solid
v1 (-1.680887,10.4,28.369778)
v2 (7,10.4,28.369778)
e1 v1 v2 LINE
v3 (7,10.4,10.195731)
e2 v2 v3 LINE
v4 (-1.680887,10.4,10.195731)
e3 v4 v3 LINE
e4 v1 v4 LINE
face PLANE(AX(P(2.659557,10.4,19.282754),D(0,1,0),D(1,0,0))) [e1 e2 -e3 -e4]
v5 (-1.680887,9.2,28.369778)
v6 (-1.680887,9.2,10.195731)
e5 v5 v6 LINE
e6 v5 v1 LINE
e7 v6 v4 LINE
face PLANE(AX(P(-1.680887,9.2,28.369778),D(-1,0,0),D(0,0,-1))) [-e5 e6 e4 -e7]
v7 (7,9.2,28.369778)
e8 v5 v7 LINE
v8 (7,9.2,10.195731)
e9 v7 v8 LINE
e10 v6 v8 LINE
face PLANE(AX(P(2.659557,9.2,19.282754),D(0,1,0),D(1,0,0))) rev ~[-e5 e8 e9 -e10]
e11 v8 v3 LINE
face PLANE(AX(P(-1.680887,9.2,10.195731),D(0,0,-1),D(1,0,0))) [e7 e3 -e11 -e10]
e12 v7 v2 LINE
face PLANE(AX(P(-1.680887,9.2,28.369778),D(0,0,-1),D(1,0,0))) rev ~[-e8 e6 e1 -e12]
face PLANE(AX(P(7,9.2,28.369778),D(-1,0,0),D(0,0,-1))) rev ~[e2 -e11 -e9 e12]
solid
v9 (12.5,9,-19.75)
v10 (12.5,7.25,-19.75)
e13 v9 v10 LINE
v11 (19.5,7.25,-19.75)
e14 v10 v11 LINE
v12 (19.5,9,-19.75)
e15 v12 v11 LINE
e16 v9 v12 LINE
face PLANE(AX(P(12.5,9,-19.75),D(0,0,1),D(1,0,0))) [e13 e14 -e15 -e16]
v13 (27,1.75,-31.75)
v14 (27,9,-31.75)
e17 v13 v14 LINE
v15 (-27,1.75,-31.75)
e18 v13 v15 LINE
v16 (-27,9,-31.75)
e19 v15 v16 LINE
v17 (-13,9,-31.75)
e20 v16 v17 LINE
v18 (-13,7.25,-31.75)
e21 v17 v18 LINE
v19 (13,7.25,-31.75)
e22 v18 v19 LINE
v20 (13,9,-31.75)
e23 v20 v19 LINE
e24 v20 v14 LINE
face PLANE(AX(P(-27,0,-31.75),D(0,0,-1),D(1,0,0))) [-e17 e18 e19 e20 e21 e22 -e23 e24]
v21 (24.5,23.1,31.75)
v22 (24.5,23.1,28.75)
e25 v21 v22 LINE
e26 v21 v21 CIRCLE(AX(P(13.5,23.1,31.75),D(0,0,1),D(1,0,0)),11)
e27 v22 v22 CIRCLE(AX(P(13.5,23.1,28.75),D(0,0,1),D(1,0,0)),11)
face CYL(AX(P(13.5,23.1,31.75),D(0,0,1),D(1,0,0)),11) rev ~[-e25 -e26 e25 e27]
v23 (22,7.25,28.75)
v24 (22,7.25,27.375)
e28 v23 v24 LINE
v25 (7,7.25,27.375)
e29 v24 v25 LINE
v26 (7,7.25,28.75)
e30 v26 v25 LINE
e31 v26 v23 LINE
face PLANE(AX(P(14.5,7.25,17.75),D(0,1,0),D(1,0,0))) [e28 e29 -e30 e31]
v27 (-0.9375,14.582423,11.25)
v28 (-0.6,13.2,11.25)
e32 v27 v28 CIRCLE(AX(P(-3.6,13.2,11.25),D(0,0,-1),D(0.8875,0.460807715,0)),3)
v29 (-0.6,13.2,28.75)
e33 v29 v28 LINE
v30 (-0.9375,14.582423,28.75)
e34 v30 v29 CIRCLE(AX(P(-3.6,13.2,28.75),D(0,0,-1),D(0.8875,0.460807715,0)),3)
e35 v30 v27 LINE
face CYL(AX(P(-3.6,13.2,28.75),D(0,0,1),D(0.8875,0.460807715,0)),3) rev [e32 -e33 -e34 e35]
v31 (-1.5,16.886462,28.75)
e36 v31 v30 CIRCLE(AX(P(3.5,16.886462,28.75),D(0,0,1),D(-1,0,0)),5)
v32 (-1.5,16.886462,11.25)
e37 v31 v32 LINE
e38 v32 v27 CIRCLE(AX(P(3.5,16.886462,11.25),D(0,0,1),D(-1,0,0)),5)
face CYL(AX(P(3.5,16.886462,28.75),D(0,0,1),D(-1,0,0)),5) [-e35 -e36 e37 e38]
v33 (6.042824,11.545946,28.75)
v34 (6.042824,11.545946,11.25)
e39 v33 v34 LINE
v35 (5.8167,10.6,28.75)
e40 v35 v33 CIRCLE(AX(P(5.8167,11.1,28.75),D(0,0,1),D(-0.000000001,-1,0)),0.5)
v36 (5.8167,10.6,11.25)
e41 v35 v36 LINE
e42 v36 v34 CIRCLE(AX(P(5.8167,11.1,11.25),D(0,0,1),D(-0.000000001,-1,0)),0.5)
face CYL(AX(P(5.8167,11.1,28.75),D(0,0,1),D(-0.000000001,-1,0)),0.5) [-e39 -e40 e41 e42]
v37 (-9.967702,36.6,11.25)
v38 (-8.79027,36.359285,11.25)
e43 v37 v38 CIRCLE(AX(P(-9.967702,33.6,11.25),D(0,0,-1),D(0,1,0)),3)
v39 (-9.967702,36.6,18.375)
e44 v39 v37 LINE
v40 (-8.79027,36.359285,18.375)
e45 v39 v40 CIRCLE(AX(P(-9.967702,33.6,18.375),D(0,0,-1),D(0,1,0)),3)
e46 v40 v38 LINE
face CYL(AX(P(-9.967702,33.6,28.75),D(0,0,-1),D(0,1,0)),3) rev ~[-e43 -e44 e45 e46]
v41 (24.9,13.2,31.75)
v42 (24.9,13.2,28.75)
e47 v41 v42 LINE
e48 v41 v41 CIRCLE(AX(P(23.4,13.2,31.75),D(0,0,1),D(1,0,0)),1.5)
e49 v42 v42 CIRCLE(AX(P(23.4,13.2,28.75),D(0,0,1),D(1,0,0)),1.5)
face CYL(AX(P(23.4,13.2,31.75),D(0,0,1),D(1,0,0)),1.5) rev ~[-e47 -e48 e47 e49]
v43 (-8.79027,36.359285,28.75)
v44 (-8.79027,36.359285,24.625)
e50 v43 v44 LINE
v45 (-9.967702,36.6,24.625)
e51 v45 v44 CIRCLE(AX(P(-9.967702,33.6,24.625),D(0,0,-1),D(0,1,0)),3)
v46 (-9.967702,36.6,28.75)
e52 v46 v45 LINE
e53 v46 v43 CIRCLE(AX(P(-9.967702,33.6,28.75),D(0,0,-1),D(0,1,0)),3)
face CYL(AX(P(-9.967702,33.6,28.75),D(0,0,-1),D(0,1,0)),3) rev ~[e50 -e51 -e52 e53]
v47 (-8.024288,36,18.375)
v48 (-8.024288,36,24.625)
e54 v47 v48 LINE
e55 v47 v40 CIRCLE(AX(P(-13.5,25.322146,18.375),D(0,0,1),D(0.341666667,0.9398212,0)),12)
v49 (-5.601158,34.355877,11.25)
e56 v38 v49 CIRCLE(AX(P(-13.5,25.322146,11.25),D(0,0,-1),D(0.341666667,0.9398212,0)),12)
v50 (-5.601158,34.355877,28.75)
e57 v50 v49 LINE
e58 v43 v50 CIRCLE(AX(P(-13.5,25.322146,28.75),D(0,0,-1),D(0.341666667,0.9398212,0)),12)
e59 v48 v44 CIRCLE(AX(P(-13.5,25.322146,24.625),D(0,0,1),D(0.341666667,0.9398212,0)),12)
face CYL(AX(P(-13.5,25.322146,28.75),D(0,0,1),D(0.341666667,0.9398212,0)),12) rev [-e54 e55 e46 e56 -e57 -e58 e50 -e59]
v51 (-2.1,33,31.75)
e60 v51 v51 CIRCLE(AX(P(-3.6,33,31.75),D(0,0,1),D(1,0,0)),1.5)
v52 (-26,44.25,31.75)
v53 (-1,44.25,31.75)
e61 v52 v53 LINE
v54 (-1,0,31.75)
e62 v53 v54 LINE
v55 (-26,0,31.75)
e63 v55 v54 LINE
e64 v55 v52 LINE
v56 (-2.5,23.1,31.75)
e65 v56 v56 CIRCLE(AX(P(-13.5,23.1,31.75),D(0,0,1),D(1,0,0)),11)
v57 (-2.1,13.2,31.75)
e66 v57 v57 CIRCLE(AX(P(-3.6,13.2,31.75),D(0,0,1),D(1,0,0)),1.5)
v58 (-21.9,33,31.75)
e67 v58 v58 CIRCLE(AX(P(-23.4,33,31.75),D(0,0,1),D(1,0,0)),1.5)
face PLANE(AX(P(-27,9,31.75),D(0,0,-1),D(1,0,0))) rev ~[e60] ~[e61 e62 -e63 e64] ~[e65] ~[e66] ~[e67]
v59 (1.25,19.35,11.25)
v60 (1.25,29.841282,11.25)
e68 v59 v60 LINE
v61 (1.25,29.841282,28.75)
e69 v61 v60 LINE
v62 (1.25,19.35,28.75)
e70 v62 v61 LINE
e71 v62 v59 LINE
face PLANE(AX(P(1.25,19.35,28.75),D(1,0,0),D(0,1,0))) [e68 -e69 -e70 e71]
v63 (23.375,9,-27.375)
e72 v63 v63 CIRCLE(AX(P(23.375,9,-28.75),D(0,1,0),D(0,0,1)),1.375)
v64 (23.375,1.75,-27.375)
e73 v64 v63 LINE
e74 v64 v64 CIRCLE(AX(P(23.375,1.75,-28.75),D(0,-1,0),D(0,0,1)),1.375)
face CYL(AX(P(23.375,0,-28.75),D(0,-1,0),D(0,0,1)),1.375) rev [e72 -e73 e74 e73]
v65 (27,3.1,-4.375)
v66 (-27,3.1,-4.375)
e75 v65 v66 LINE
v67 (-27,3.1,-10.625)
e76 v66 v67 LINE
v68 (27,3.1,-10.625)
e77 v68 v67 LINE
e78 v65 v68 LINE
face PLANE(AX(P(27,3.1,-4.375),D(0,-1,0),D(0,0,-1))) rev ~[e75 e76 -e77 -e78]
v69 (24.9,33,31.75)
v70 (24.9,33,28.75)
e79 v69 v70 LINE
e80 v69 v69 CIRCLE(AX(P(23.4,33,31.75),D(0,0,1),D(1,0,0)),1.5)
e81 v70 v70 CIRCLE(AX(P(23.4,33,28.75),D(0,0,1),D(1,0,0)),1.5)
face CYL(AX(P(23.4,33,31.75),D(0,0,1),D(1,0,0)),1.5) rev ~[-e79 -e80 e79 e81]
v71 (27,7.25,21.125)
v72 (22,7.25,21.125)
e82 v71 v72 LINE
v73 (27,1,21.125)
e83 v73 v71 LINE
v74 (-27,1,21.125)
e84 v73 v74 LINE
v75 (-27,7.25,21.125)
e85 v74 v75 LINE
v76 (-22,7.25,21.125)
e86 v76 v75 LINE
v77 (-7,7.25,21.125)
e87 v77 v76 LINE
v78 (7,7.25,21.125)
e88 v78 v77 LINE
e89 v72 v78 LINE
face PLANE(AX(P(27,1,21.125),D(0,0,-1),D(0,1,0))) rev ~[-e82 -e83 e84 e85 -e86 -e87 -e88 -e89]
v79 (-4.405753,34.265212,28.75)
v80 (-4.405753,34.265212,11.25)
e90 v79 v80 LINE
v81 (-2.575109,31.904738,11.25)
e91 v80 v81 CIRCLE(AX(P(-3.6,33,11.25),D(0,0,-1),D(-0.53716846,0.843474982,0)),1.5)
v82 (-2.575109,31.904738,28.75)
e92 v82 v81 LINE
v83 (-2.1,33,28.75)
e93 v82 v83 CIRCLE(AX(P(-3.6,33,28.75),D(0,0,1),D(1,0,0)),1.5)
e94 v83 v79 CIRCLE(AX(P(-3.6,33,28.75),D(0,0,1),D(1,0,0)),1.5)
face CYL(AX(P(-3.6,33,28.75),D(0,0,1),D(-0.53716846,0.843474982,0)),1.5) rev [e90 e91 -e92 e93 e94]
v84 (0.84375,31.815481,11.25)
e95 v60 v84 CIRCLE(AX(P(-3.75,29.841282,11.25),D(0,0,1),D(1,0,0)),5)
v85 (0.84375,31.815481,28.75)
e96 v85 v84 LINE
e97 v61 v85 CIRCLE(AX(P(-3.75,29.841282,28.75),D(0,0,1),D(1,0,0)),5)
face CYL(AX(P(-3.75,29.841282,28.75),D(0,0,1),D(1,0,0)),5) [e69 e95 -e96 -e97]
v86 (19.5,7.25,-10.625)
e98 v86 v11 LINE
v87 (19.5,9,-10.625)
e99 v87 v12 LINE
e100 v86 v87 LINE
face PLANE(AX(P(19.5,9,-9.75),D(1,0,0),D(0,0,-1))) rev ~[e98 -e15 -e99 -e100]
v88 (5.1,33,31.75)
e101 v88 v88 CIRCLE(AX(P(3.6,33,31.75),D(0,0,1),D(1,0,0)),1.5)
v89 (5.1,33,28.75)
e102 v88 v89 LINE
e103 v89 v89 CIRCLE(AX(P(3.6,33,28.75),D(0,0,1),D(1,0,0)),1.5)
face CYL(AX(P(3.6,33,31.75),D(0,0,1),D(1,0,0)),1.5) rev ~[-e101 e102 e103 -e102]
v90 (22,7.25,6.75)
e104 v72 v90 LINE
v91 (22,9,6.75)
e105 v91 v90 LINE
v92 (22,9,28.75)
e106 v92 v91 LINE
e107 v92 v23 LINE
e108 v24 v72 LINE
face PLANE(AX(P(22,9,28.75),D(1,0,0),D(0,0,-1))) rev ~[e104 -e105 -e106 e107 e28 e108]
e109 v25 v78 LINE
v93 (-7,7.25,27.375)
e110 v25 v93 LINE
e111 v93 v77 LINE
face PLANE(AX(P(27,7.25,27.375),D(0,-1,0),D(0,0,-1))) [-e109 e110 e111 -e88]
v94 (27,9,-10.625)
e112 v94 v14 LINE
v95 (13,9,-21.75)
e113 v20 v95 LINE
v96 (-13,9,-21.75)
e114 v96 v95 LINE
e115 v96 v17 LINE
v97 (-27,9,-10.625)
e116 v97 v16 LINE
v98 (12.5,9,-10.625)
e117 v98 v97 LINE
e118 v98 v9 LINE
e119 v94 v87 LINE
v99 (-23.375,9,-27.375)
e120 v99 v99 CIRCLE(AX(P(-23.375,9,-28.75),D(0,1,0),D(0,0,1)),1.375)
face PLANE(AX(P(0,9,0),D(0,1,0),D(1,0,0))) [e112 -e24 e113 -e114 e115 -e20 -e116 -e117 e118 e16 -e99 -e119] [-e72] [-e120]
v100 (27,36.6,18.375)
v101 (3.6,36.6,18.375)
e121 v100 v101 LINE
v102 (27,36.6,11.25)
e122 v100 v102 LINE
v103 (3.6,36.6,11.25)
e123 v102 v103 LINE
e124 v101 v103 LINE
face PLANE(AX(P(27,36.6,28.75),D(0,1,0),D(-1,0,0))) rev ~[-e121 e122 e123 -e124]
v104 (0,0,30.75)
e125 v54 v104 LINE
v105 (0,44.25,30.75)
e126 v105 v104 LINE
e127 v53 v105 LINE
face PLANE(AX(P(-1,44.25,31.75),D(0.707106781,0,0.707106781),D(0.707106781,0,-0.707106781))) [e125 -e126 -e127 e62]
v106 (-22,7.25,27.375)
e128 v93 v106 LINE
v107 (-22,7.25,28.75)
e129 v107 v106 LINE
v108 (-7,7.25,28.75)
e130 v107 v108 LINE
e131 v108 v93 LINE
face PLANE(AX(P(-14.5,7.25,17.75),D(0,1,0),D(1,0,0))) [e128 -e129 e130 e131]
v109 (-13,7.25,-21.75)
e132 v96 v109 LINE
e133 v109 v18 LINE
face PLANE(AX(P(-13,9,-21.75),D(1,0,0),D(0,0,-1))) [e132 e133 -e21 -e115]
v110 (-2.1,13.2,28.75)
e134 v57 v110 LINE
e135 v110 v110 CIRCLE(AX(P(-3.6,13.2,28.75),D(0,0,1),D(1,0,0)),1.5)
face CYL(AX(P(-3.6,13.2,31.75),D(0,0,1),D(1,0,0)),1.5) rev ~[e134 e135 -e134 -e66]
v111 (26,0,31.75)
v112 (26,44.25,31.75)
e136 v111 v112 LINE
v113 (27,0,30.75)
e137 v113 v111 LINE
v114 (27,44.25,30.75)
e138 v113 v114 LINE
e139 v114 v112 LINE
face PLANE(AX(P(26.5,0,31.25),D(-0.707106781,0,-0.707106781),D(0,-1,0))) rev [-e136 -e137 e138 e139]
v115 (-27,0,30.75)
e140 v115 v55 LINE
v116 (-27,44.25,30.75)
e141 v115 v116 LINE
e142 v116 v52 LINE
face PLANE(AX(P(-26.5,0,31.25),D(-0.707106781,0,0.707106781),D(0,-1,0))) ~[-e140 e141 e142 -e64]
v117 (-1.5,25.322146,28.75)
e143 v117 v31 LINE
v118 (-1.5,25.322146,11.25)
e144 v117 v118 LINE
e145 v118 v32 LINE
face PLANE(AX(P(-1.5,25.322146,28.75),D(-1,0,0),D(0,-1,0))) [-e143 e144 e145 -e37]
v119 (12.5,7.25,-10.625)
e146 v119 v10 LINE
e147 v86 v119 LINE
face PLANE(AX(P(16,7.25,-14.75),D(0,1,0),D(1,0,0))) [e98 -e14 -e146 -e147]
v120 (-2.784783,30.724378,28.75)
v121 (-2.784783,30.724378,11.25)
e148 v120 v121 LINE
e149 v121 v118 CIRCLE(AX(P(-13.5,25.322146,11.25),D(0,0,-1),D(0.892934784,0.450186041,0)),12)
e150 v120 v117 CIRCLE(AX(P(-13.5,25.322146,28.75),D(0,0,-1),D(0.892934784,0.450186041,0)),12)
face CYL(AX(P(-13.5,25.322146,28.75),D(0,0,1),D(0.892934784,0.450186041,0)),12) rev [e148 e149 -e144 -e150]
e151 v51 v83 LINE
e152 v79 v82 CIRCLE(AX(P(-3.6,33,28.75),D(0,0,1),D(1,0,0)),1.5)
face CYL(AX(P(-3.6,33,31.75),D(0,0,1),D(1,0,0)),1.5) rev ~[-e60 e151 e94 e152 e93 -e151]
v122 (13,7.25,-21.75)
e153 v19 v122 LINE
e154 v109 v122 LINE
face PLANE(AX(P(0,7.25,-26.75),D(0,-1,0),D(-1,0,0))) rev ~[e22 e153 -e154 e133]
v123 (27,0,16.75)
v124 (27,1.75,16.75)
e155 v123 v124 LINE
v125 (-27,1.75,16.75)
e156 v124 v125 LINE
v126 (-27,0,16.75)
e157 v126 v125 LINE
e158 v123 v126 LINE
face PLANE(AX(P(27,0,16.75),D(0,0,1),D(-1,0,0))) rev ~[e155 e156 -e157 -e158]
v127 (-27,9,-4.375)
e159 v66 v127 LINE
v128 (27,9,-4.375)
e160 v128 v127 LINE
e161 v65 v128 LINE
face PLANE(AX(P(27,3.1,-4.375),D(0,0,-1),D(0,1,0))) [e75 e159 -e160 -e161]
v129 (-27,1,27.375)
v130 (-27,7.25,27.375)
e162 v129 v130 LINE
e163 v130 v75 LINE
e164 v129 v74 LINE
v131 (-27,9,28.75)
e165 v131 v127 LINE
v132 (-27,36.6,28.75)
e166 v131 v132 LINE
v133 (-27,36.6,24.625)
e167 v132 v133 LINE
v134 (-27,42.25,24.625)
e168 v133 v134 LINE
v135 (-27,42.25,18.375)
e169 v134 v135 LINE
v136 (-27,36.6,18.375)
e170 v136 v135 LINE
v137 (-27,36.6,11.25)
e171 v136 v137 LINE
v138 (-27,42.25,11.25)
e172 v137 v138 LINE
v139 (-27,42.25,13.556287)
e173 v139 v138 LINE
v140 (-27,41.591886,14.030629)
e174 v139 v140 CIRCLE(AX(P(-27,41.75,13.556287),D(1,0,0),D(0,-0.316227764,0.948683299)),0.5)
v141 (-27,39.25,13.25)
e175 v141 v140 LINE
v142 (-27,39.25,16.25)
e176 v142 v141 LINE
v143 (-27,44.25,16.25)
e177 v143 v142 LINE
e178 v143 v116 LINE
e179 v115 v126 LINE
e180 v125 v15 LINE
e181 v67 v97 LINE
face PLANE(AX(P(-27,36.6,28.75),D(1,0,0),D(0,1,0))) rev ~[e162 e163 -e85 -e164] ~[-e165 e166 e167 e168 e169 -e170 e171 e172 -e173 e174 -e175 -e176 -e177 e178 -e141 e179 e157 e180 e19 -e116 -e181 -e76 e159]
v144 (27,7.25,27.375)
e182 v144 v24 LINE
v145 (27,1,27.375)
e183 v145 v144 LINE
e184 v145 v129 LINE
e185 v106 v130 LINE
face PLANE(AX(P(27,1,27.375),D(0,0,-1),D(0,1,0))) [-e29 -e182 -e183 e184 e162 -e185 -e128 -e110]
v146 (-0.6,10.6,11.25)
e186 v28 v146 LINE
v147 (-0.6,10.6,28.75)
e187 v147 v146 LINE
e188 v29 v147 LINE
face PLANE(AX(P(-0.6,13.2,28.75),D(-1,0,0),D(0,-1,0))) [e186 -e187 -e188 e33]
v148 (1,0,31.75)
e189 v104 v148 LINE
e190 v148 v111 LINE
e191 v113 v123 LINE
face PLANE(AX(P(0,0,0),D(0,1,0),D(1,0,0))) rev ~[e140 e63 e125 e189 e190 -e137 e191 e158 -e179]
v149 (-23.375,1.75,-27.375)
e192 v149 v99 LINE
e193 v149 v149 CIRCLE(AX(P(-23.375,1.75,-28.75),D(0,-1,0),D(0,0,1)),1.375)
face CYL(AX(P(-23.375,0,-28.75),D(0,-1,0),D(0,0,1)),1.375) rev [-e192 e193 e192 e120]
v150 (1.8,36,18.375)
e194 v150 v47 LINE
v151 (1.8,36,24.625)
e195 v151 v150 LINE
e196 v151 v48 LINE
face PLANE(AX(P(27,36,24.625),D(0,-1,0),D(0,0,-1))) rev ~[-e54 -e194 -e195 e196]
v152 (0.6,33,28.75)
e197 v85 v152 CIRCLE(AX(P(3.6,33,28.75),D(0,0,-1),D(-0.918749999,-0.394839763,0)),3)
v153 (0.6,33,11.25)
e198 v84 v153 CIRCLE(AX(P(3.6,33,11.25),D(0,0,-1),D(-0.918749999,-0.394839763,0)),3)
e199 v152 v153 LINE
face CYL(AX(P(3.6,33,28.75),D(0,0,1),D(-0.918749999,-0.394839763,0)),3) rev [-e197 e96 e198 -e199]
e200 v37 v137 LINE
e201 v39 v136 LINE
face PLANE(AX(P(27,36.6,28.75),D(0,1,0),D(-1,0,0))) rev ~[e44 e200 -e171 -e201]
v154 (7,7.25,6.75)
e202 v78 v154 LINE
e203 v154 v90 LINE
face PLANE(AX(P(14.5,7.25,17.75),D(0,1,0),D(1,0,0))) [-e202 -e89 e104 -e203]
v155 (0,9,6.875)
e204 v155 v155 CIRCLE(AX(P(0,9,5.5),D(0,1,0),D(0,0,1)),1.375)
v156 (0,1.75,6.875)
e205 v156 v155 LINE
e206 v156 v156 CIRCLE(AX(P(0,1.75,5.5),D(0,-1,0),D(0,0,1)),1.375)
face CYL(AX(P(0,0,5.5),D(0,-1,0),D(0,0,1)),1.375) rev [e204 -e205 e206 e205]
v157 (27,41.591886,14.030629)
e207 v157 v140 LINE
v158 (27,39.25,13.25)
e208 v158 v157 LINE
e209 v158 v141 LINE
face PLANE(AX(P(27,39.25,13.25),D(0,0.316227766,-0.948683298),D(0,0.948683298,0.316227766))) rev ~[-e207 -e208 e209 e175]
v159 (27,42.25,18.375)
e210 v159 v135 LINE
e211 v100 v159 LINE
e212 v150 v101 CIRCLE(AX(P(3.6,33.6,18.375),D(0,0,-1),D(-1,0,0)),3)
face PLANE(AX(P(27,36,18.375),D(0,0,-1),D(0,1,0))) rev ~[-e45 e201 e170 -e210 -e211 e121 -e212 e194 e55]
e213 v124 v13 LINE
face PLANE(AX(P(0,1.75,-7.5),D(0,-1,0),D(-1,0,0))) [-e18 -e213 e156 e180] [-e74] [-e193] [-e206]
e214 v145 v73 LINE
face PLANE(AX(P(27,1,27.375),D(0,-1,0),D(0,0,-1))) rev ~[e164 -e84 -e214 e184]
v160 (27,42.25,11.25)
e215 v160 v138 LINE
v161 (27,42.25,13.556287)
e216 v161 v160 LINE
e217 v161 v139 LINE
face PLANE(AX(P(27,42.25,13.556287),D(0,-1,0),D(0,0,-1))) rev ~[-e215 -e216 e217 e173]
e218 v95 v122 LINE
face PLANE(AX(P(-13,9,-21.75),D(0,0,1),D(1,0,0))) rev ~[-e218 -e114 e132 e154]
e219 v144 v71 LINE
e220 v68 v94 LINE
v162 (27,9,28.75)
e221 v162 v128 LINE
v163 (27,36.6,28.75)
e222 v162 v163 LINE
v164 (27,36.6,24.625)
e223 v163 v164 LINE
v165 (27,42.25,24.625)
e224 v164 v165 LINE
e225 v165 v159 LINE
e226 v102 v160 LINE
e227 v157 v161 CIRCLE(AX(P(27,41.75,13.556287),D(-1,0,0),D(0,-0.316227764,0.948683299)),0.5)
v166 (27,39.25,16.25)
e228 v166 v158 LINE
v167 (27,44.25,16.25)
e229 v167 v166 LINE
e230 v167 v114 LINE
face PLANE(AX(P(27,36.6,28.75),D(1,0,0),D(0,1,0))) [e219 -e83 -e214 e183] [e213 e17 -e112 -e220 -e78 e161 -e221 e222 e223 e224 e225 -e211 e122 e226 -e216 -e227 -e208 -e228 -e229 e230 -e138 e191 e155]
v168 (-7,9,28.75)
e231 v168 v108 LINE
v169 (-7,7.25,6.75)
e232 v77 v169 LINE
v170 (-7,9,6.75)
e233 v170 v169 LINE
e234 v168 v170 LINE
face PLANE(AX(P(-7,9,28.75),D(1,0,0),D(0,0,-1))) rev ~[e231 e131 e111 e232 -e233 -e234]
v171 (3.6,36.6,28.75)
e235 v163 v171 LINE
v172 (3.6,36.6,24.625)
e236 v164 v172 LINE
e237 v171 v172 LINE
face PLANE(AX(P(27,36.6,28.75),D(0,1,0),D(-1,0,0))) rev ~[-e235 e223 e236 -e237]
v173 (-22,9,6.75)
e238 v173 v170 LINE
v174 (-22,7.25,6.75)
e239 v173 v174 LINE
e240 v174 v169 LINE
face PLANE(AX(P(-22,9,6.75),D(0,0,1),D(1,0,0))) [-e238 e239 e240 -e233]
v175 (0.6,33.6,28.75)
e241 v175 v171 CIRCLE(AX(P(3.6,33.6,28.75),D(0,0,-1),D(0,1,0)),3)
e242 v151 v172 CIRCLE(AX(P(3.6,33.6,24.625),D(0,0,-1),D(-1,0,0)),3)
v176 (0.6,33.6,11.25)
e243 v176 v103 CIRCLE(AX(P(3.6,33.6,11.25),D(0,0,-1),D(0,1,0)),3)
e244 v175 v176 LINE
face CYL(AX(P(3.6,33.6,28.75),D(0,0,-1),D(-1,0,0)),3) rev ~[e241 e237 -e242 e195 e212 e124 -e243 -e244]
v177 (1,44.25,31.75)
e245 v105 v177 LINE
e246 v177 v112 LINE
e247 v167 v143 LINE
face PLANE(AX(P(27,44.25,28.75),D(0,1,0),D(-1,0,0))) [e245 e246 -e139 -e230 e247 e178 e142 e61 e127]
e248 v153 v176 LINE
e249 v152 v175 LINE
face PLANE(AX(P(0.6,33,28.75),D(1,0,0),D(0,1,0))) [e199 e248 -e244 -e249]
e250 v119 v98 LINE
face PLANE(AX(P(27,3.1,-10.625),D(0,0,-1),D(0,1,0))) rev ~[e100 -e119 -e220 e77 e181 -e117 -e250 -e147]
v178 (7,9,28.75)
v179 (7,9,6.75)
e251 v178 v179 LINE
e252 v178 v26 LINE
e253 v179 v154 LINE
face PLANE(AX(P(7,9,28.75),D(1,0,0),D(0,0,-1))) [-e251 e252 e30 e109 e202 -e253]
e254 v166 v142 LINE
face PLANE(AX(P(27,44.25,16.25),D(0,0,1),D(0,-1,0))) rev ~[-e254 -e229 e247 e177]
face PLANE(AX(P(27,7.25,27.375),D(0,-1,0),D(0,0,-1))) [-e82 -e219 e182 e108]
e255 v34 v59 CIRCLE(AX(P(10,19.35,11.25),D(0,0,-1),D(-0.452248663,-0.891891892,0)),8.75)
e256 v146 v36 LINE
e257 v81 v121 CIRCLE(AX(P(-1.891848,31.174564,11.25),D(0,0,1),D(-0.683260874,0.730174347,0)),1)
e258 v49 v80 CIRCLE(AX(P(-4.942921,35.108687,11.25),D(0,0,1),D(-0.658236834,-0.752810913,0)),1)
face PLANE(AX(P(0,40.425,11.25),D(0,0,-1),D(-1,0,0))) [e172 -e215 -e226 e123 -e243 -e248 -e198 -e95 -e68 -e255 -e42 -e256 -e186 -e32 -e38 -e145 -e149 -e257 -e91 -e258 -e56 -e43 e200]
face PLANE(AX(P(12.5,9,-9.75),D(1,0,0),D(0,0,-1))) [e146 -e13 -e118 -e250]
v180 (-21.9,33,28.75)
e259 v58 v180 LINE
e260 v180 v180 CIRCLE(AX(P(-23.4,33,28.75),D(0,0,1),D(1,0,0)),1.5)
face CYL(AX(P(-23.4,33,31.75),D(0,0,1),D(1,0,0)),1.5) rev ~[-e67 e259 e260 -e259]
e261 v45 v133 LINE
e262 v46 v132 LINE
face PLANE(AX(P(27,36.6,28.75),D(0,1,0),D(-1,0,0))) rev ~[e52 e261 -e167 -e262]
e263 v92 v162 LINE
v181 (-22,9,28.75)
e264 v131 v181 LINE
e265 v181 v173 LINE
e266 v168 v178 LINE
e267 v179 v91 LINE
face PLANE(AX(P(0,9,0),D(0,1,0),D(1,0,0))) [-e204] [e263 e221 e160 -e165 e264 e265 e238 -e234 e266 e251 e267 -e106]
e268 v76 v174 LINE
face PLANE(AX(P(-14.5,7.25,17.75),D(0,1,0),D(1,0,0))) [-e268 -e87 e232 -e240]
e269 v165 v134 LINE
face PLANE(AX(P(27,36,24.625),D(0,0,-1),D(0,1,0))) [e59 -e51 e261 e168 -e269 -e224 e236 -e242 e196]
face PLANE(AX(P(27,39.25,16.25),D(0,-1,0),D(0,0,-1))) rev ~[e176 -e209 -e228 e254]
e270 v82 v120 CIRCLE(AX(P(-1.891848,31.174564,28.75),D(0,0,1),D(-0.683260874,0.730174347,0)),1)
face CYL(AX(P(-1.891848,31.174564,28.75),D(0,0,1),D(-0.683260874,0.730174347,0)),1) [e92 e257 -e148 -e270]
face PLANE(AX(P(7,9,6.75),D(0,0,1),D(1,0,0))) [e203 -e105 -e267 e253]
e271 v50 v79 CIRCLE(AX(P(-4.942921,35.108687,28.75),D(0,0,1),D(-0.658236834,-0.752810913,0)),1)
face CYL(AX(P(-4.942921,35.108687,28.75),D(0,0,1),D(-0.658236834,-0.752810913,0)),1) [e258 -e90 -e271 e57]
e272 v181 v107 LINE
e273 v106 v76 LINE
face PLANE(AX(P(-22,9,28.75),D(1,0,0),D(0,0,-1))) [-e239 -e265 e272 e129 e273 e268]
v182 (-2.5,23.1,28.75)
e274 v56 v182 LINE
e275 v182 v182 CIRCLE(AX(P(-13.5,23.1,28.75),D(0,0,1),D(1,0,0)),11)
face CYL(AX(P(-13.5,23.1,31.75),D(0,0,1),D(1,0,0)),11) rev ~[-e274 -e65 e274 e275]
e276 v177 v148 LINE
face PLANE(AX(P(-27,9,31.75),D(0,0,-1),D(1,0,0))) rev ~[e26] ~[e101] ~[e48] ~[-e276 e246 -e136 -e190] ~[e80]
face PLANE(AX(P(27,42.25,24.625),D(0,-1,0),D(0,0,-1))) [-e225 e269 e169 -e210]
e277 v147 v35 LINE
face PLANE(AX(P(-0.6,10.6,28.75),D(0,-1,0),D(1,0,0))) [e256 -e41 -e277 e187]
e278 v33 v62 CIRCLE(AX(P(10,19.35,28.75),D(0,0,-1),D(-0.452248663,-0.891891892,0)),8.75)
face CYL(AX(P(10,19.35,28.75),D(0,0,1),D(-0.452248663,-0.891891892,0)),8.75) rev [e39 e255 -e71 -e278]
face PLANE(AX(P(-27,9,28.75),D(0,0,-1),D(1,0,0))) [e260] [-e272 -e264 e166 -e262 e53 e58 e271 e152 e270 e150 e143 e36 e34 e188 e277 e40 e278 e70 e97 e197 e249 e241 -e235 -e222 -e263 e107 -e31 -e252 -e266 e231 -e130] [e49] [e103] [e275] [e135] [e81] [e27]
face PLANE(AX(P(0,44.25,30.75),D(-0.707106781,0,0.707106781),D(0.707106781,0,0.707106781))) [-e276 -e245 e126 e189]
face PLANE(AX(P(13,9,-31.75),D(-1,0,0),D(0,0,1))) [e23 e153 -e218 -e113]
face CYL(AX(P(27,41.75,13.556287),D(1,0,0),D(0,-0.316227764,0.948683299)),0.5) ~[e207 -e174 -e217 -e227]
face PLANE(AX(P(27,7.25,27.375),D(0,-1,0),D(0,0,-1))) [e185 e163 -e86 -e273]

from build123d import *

# Parameters (mm, degrees)
SKETCH1_W           = 54
SKETCH1_H           = 63.5
SKETCH1_R           = 1.375
BOSS_EXTRUDE1_DEPTH = 9
SKETCH2_W           = 54
SKETCH2_H           = 3
BOSS_EXTRUDE2_DEPTH = 35.25
SKETCH3_R           = 11
SKETCH3_R_2         = 1.5
CUT_EXTRUDE1_DEPTH  = 82.9714127
SKETCH4_W           = 54
SKETCH4_H           = 48.5
CUT_EXTRUDE2_DEPTH  = 1.75
BOSS_EXTRUDE3_DEPTH = 17.5
SKETCH6_W           = 54
SKETCH6_H           = 7.65
BOSS_EXTRUDE5_DEPTH = 17.5
FILLET2_R           = 3
SKETCH8_W           = 15
SKETCH8_H           = 22
SKETCH8_W_2         = 7
SKETCH8_H_2         = 10
CUT_EXTRUDE4_DEPTH  = 1.75
SKETCH7_W           = 6.25
SKETCH7_H           = 6.25
SKETCH7_H_2         = 5.9
CUT_EXTRUDE3_DEPTH  = 77.695012876
CHAMFER2_SIZE       = 1
CUT_EXTRUDE5_DEPTH  = 61.787539842
CUT_EXTRUDE6_DEPTH  = 77.695012876
BOSS_EXTRUDE6_START = 0.2
SKETCH13_W          = 8.680886663
SKETCH13_H          = 18.174047098
BOSS_EXTRUDE6_DEPTH = 1.2


with BuildPart() as part:
    # Sketch1 → Boss-Extrude1 (new body)
    with BuildSketch(Plane(origin=(0, 0, 0), x_dir=(1, 0, 0), z_dir=(0, 1, 0))):
        Rectangle(SKETCH1_W, SKETCH1_H)
        with Locations(Location((-23.375, 28.75, 0), (0, 0, 270))):
            Circle(SKETCH1_R, mode=Mode.SUBTRACT)
        with Locations(Location((23.375, 28.75, 0), (0, 0, 270))):
            Circle(SKETCH1_R, mode=Mode.SUBTRACT)
        with Locations(Location((0, -5.5, 0), (0, 0, 270))):
            Circle(SKETCH1_R, mode=Mode.SUBTRACT)
    extrude(amount=BOSS_EXTRUDE1_DEPTH)

    # Sketch2 → Boss-Extrude2 (add)
    with BuildSketch(Plane(origin=(0, 9, 0), x_dir=(1, 0, 0), z_dir=(0, 1, 0))):
        with Locations((0, -30.25)):
            Rectangle(SKETCH2_W, SKETCH2_H)
    extrude(amount=BOSS_EXTRUDE2_DEPTH)

    # Sketch3 → Cut-Extrude1 (cut, through all)
    with BuildSketch(Plane.XY.offset(31.75)):
        with Locations((-13.5, 23.1)):
            Circle(SKETCH3_R)
        with Locations((13.5, 23.1)):
            Circle(SKETCH3_R)
        with Locations((-23.4, 33)):
            Circle(SKETCH3_R_2)
        with Locations((-3.6, 13.2)):
            Circle(SKETCH3_R_2)
        with Locations((3.6, 33)):
            Circle(SKETCH3_R_2)
        with Locations((23.4, 13.2)):
            Circle(SKETCH3_R_2)
        with Locations((-3.6, 33)):
            Circle(SKETCH3_R_2)
        with Locations((23.4, 33)):
            Circle(SKETCH3_R_2)
    extrude(amount=-CUT_EXTRUDE1_DEPTH, mode=Mode.SUBTRACT)

    # Sketch4 → Cut-Extrude2 (cut)
    with BuildSketch(Plane(origin=(0, 0, 0), x_dir=(-1, 0, 0), z_dir=(0, -1, 0))):
        with Locations((0, 7.5)):
            Rectangle(SKETCH4_W, SKETCH4_H)
    extrude(amount=-CUT_EXTRUDE2_DEPTH, mode=Mode.SUBTRACT)

    # Sketch5 → Boss-Extrude3 (add)
    with BuildSketch(Plane(origin=(0, 0, 28.75), x_dir=(-1, 0, 0), z_dir=(0, 0, -1))):
        with BuildLine():
            Line((-1.25, 23.1), (-1.25, 29.841281906))
            ThreePointArc((-1.25, 29.841281906), (-1.147384506, 30.849064124), (-0.84375, 31.815480715))
            ThreePointArc((-0.84375, 31.815480715), (-0.661569296, 32.395330669), (-0.6, 33))
            Line((-0.6, 33), (-0.6, 36.6))
            Line((-0.6, 36.6), (9.4, 36.6))
            ThreePointArc((9.4, 36.6), (7.396552209, 35.65403434), (5.601157986, 34.355876542))
            ThreePointArc((5.601157986, 34.355876542), (5.018547742, 34.111551246), (4.405752691, 34.265212473))
            ThreePointArc((4.405752691, 34.265212473), (2.414687889, 33.919257961), (2.575108687, 31.90473848))
            ThreePointArc((2.575108687, 31.90473848), (2.876434451, 31.349461675), (2.784782595, 30.724378093))
            ThreePointArc((2.784782595, 30.724378093), (1.825613317, 28.09859937), (1.5, 25.322145594))
            Line((1.5, 25.322145594), (1.5, 23.1))
            Line((1.5, 23.1), (1.5, 16.886461718))
            ThreePointArc((1.5, 16.886461718), (1.357339807, 15.700607596), (0.9375, 14.582423144))
            ThreePointArc((0.9375, 14.582423144), (0.685596116, 13.911512474), (0.6, 13.2))
            Line((0.6, 13.2), (0.6, 10.6))
            Line((0.6, 10.6), (0, 10.6))
            Line((0, 10.6), (-5.816699867, 10.6))
            ThreePointArc((-5.816699867, 10.6), (-6.30299863, 10.983752361), (-6.042824199, 11.545945946))
            ThreePointArc((-6.042824199, 11.545945946), (-2.543868689, 14.770850967), (-1.25, 19.35))
            Line((-1.25, 19.35), (-1.25, 23.1))
        make_face()
    extrude(amount=BOSS_EXTRUDE3_DEPTH)

    # Sketch6 → Boss-Extrude5 (add)
    with BuildSketch(Plane(origin=(0, 0, 28.75), x_dir=(-1, 0, 0), z_dir=(0, 0, -1))):
        with Locations((0, 40.425)):
            Rectangle(SKETCH6_W, SKETCH6_H)
    extrude(amount=BOSS_EXTRUDE5_DEPTH)

    # Fillet2
    fillet2_edges = [part.edges().sort_by_distance(p)[0] for p in [
        (-9.4, 36.6, 20),
        (0.6, 36.6, 20),
    ]]
    fillet(fillet2_edges, radius=FILLET2_R)

    # Sketch8 → Cut-Extrude4 (cut)
    with BuildSketch(Plane(origin=(0, 9, 0), x_dir=(1, 0, 0), z_dir=(0, 1, 0))):
        with Locations((14.5, -17.75)):
            Rectangle(SKETCH8_W, SKETCH8_H)
        with Locations((-14.5, -17.75)):
            Rectangle(SKETCH8_W, SKETCH8_H)
        Polygon((-13, 31.75), (13, 31.75), (13, 21.75), (0, 21.75), (-13, 21.75), align=None)
        with Locations((16, 14.75)):
            Rectangle(SKETCH8_W_2, SKETCH8_H_2)
    extrude(amount=-CUT_EXTRUDE4_DEPTH, mode=Mode.SUBTRACT)

    # Sketch7 → Cut-Extrude3 (cut, through all)
    with BuildSketch(Plane(origin=(27, 0, 0), x_dir=(0, 0, -1), z_dir=(1, 0, 0))):
        with Locations((-24.25, 4.125)):
            Rectangle(SKETCH7_W, SKETCH7_H)
        with Locations((-21.5, 39.125)):
            Rectangle(SKETCH7_W, SKETCH7_H)
        with Locations((7.5, 6.05)):
            Rectangle(SKETCH7_W, SKETCH7_H_2)
    extrude(amount=-CUT_EXTRUDE3_DEPTH, mode=Mode.SUBTRACT)

    # Chamfer2
    chamfer2_edges = [part.edges().sort_by_distance(p)[0] for p in [
        (27, 22.125, 31.75),
        (-27, 22.125, 31.75),
    ]]
    chamfer(chamfer2_edges, length=CHAMFER2_SIZE)

    # Sketch9 → Cut-Extrude5 (cut, through all)
    with BuildSketch(Plane(origin=(0, 44.25, 0), x_dir=(1, 0, 0), z_dir=(0, 1, 0))):
        Polygon((-1, -31.75), (0, -30.75), (1, -31.75), align=None)
    extrude(amount=-CUT_EXTRUDE5_DEPTH, mode=Mode.SUBTRACT)

    # Sketch10 → Cut-Extrude6 (cut, through all)
    with BuildSketch(Plane(origin=(27, 0, 0), x_dir=(0, 0, -1), z_dir=(1, 0, 0))):
        with BuildLine():
            Line((-11.25, 44.25), (-16.25, 44.25))
            Line((-16.25, 44.25), (-16.25, 39.25))
            Line((-16.25, 39.25), (-13.25, 39.25))
            Line((-13.25, 39.25), (-14.030628706, 41.591886117))
            ThreePointArc((-14.030628706, 41.591886117), (-13.961908149, 42.042355142), (-13.556287057, 42.25))
            Line((-13.556287057, 42.25), (-11.25, 42.25))
            Line((-11.25, 42.25), (-11.25, 44.25))
        make_face()
    extrude(amount=-CUT_EXTRUDE6_DEPTH, mode=Mode.SUBTRACT)


with BuildPart() as body_2:
    # Sketch13 → Boss-Extrude6 (new body)
    with BuildSketch(Plane(origin=(0, 9, 0), x_dir=(1, 0, 0), z_dir=(0, 1, 0)).offset(BOSS_EXTRUDE6_START)):
        with Locations((2.659556669, -19.282754062)):
            Rectangle(SKETCH13_W, SKETCH13_H)
    extrude(amount=BOSS_EXTRUDE6_DEPTH)


solid = Compound([part.part, body_2.part])
